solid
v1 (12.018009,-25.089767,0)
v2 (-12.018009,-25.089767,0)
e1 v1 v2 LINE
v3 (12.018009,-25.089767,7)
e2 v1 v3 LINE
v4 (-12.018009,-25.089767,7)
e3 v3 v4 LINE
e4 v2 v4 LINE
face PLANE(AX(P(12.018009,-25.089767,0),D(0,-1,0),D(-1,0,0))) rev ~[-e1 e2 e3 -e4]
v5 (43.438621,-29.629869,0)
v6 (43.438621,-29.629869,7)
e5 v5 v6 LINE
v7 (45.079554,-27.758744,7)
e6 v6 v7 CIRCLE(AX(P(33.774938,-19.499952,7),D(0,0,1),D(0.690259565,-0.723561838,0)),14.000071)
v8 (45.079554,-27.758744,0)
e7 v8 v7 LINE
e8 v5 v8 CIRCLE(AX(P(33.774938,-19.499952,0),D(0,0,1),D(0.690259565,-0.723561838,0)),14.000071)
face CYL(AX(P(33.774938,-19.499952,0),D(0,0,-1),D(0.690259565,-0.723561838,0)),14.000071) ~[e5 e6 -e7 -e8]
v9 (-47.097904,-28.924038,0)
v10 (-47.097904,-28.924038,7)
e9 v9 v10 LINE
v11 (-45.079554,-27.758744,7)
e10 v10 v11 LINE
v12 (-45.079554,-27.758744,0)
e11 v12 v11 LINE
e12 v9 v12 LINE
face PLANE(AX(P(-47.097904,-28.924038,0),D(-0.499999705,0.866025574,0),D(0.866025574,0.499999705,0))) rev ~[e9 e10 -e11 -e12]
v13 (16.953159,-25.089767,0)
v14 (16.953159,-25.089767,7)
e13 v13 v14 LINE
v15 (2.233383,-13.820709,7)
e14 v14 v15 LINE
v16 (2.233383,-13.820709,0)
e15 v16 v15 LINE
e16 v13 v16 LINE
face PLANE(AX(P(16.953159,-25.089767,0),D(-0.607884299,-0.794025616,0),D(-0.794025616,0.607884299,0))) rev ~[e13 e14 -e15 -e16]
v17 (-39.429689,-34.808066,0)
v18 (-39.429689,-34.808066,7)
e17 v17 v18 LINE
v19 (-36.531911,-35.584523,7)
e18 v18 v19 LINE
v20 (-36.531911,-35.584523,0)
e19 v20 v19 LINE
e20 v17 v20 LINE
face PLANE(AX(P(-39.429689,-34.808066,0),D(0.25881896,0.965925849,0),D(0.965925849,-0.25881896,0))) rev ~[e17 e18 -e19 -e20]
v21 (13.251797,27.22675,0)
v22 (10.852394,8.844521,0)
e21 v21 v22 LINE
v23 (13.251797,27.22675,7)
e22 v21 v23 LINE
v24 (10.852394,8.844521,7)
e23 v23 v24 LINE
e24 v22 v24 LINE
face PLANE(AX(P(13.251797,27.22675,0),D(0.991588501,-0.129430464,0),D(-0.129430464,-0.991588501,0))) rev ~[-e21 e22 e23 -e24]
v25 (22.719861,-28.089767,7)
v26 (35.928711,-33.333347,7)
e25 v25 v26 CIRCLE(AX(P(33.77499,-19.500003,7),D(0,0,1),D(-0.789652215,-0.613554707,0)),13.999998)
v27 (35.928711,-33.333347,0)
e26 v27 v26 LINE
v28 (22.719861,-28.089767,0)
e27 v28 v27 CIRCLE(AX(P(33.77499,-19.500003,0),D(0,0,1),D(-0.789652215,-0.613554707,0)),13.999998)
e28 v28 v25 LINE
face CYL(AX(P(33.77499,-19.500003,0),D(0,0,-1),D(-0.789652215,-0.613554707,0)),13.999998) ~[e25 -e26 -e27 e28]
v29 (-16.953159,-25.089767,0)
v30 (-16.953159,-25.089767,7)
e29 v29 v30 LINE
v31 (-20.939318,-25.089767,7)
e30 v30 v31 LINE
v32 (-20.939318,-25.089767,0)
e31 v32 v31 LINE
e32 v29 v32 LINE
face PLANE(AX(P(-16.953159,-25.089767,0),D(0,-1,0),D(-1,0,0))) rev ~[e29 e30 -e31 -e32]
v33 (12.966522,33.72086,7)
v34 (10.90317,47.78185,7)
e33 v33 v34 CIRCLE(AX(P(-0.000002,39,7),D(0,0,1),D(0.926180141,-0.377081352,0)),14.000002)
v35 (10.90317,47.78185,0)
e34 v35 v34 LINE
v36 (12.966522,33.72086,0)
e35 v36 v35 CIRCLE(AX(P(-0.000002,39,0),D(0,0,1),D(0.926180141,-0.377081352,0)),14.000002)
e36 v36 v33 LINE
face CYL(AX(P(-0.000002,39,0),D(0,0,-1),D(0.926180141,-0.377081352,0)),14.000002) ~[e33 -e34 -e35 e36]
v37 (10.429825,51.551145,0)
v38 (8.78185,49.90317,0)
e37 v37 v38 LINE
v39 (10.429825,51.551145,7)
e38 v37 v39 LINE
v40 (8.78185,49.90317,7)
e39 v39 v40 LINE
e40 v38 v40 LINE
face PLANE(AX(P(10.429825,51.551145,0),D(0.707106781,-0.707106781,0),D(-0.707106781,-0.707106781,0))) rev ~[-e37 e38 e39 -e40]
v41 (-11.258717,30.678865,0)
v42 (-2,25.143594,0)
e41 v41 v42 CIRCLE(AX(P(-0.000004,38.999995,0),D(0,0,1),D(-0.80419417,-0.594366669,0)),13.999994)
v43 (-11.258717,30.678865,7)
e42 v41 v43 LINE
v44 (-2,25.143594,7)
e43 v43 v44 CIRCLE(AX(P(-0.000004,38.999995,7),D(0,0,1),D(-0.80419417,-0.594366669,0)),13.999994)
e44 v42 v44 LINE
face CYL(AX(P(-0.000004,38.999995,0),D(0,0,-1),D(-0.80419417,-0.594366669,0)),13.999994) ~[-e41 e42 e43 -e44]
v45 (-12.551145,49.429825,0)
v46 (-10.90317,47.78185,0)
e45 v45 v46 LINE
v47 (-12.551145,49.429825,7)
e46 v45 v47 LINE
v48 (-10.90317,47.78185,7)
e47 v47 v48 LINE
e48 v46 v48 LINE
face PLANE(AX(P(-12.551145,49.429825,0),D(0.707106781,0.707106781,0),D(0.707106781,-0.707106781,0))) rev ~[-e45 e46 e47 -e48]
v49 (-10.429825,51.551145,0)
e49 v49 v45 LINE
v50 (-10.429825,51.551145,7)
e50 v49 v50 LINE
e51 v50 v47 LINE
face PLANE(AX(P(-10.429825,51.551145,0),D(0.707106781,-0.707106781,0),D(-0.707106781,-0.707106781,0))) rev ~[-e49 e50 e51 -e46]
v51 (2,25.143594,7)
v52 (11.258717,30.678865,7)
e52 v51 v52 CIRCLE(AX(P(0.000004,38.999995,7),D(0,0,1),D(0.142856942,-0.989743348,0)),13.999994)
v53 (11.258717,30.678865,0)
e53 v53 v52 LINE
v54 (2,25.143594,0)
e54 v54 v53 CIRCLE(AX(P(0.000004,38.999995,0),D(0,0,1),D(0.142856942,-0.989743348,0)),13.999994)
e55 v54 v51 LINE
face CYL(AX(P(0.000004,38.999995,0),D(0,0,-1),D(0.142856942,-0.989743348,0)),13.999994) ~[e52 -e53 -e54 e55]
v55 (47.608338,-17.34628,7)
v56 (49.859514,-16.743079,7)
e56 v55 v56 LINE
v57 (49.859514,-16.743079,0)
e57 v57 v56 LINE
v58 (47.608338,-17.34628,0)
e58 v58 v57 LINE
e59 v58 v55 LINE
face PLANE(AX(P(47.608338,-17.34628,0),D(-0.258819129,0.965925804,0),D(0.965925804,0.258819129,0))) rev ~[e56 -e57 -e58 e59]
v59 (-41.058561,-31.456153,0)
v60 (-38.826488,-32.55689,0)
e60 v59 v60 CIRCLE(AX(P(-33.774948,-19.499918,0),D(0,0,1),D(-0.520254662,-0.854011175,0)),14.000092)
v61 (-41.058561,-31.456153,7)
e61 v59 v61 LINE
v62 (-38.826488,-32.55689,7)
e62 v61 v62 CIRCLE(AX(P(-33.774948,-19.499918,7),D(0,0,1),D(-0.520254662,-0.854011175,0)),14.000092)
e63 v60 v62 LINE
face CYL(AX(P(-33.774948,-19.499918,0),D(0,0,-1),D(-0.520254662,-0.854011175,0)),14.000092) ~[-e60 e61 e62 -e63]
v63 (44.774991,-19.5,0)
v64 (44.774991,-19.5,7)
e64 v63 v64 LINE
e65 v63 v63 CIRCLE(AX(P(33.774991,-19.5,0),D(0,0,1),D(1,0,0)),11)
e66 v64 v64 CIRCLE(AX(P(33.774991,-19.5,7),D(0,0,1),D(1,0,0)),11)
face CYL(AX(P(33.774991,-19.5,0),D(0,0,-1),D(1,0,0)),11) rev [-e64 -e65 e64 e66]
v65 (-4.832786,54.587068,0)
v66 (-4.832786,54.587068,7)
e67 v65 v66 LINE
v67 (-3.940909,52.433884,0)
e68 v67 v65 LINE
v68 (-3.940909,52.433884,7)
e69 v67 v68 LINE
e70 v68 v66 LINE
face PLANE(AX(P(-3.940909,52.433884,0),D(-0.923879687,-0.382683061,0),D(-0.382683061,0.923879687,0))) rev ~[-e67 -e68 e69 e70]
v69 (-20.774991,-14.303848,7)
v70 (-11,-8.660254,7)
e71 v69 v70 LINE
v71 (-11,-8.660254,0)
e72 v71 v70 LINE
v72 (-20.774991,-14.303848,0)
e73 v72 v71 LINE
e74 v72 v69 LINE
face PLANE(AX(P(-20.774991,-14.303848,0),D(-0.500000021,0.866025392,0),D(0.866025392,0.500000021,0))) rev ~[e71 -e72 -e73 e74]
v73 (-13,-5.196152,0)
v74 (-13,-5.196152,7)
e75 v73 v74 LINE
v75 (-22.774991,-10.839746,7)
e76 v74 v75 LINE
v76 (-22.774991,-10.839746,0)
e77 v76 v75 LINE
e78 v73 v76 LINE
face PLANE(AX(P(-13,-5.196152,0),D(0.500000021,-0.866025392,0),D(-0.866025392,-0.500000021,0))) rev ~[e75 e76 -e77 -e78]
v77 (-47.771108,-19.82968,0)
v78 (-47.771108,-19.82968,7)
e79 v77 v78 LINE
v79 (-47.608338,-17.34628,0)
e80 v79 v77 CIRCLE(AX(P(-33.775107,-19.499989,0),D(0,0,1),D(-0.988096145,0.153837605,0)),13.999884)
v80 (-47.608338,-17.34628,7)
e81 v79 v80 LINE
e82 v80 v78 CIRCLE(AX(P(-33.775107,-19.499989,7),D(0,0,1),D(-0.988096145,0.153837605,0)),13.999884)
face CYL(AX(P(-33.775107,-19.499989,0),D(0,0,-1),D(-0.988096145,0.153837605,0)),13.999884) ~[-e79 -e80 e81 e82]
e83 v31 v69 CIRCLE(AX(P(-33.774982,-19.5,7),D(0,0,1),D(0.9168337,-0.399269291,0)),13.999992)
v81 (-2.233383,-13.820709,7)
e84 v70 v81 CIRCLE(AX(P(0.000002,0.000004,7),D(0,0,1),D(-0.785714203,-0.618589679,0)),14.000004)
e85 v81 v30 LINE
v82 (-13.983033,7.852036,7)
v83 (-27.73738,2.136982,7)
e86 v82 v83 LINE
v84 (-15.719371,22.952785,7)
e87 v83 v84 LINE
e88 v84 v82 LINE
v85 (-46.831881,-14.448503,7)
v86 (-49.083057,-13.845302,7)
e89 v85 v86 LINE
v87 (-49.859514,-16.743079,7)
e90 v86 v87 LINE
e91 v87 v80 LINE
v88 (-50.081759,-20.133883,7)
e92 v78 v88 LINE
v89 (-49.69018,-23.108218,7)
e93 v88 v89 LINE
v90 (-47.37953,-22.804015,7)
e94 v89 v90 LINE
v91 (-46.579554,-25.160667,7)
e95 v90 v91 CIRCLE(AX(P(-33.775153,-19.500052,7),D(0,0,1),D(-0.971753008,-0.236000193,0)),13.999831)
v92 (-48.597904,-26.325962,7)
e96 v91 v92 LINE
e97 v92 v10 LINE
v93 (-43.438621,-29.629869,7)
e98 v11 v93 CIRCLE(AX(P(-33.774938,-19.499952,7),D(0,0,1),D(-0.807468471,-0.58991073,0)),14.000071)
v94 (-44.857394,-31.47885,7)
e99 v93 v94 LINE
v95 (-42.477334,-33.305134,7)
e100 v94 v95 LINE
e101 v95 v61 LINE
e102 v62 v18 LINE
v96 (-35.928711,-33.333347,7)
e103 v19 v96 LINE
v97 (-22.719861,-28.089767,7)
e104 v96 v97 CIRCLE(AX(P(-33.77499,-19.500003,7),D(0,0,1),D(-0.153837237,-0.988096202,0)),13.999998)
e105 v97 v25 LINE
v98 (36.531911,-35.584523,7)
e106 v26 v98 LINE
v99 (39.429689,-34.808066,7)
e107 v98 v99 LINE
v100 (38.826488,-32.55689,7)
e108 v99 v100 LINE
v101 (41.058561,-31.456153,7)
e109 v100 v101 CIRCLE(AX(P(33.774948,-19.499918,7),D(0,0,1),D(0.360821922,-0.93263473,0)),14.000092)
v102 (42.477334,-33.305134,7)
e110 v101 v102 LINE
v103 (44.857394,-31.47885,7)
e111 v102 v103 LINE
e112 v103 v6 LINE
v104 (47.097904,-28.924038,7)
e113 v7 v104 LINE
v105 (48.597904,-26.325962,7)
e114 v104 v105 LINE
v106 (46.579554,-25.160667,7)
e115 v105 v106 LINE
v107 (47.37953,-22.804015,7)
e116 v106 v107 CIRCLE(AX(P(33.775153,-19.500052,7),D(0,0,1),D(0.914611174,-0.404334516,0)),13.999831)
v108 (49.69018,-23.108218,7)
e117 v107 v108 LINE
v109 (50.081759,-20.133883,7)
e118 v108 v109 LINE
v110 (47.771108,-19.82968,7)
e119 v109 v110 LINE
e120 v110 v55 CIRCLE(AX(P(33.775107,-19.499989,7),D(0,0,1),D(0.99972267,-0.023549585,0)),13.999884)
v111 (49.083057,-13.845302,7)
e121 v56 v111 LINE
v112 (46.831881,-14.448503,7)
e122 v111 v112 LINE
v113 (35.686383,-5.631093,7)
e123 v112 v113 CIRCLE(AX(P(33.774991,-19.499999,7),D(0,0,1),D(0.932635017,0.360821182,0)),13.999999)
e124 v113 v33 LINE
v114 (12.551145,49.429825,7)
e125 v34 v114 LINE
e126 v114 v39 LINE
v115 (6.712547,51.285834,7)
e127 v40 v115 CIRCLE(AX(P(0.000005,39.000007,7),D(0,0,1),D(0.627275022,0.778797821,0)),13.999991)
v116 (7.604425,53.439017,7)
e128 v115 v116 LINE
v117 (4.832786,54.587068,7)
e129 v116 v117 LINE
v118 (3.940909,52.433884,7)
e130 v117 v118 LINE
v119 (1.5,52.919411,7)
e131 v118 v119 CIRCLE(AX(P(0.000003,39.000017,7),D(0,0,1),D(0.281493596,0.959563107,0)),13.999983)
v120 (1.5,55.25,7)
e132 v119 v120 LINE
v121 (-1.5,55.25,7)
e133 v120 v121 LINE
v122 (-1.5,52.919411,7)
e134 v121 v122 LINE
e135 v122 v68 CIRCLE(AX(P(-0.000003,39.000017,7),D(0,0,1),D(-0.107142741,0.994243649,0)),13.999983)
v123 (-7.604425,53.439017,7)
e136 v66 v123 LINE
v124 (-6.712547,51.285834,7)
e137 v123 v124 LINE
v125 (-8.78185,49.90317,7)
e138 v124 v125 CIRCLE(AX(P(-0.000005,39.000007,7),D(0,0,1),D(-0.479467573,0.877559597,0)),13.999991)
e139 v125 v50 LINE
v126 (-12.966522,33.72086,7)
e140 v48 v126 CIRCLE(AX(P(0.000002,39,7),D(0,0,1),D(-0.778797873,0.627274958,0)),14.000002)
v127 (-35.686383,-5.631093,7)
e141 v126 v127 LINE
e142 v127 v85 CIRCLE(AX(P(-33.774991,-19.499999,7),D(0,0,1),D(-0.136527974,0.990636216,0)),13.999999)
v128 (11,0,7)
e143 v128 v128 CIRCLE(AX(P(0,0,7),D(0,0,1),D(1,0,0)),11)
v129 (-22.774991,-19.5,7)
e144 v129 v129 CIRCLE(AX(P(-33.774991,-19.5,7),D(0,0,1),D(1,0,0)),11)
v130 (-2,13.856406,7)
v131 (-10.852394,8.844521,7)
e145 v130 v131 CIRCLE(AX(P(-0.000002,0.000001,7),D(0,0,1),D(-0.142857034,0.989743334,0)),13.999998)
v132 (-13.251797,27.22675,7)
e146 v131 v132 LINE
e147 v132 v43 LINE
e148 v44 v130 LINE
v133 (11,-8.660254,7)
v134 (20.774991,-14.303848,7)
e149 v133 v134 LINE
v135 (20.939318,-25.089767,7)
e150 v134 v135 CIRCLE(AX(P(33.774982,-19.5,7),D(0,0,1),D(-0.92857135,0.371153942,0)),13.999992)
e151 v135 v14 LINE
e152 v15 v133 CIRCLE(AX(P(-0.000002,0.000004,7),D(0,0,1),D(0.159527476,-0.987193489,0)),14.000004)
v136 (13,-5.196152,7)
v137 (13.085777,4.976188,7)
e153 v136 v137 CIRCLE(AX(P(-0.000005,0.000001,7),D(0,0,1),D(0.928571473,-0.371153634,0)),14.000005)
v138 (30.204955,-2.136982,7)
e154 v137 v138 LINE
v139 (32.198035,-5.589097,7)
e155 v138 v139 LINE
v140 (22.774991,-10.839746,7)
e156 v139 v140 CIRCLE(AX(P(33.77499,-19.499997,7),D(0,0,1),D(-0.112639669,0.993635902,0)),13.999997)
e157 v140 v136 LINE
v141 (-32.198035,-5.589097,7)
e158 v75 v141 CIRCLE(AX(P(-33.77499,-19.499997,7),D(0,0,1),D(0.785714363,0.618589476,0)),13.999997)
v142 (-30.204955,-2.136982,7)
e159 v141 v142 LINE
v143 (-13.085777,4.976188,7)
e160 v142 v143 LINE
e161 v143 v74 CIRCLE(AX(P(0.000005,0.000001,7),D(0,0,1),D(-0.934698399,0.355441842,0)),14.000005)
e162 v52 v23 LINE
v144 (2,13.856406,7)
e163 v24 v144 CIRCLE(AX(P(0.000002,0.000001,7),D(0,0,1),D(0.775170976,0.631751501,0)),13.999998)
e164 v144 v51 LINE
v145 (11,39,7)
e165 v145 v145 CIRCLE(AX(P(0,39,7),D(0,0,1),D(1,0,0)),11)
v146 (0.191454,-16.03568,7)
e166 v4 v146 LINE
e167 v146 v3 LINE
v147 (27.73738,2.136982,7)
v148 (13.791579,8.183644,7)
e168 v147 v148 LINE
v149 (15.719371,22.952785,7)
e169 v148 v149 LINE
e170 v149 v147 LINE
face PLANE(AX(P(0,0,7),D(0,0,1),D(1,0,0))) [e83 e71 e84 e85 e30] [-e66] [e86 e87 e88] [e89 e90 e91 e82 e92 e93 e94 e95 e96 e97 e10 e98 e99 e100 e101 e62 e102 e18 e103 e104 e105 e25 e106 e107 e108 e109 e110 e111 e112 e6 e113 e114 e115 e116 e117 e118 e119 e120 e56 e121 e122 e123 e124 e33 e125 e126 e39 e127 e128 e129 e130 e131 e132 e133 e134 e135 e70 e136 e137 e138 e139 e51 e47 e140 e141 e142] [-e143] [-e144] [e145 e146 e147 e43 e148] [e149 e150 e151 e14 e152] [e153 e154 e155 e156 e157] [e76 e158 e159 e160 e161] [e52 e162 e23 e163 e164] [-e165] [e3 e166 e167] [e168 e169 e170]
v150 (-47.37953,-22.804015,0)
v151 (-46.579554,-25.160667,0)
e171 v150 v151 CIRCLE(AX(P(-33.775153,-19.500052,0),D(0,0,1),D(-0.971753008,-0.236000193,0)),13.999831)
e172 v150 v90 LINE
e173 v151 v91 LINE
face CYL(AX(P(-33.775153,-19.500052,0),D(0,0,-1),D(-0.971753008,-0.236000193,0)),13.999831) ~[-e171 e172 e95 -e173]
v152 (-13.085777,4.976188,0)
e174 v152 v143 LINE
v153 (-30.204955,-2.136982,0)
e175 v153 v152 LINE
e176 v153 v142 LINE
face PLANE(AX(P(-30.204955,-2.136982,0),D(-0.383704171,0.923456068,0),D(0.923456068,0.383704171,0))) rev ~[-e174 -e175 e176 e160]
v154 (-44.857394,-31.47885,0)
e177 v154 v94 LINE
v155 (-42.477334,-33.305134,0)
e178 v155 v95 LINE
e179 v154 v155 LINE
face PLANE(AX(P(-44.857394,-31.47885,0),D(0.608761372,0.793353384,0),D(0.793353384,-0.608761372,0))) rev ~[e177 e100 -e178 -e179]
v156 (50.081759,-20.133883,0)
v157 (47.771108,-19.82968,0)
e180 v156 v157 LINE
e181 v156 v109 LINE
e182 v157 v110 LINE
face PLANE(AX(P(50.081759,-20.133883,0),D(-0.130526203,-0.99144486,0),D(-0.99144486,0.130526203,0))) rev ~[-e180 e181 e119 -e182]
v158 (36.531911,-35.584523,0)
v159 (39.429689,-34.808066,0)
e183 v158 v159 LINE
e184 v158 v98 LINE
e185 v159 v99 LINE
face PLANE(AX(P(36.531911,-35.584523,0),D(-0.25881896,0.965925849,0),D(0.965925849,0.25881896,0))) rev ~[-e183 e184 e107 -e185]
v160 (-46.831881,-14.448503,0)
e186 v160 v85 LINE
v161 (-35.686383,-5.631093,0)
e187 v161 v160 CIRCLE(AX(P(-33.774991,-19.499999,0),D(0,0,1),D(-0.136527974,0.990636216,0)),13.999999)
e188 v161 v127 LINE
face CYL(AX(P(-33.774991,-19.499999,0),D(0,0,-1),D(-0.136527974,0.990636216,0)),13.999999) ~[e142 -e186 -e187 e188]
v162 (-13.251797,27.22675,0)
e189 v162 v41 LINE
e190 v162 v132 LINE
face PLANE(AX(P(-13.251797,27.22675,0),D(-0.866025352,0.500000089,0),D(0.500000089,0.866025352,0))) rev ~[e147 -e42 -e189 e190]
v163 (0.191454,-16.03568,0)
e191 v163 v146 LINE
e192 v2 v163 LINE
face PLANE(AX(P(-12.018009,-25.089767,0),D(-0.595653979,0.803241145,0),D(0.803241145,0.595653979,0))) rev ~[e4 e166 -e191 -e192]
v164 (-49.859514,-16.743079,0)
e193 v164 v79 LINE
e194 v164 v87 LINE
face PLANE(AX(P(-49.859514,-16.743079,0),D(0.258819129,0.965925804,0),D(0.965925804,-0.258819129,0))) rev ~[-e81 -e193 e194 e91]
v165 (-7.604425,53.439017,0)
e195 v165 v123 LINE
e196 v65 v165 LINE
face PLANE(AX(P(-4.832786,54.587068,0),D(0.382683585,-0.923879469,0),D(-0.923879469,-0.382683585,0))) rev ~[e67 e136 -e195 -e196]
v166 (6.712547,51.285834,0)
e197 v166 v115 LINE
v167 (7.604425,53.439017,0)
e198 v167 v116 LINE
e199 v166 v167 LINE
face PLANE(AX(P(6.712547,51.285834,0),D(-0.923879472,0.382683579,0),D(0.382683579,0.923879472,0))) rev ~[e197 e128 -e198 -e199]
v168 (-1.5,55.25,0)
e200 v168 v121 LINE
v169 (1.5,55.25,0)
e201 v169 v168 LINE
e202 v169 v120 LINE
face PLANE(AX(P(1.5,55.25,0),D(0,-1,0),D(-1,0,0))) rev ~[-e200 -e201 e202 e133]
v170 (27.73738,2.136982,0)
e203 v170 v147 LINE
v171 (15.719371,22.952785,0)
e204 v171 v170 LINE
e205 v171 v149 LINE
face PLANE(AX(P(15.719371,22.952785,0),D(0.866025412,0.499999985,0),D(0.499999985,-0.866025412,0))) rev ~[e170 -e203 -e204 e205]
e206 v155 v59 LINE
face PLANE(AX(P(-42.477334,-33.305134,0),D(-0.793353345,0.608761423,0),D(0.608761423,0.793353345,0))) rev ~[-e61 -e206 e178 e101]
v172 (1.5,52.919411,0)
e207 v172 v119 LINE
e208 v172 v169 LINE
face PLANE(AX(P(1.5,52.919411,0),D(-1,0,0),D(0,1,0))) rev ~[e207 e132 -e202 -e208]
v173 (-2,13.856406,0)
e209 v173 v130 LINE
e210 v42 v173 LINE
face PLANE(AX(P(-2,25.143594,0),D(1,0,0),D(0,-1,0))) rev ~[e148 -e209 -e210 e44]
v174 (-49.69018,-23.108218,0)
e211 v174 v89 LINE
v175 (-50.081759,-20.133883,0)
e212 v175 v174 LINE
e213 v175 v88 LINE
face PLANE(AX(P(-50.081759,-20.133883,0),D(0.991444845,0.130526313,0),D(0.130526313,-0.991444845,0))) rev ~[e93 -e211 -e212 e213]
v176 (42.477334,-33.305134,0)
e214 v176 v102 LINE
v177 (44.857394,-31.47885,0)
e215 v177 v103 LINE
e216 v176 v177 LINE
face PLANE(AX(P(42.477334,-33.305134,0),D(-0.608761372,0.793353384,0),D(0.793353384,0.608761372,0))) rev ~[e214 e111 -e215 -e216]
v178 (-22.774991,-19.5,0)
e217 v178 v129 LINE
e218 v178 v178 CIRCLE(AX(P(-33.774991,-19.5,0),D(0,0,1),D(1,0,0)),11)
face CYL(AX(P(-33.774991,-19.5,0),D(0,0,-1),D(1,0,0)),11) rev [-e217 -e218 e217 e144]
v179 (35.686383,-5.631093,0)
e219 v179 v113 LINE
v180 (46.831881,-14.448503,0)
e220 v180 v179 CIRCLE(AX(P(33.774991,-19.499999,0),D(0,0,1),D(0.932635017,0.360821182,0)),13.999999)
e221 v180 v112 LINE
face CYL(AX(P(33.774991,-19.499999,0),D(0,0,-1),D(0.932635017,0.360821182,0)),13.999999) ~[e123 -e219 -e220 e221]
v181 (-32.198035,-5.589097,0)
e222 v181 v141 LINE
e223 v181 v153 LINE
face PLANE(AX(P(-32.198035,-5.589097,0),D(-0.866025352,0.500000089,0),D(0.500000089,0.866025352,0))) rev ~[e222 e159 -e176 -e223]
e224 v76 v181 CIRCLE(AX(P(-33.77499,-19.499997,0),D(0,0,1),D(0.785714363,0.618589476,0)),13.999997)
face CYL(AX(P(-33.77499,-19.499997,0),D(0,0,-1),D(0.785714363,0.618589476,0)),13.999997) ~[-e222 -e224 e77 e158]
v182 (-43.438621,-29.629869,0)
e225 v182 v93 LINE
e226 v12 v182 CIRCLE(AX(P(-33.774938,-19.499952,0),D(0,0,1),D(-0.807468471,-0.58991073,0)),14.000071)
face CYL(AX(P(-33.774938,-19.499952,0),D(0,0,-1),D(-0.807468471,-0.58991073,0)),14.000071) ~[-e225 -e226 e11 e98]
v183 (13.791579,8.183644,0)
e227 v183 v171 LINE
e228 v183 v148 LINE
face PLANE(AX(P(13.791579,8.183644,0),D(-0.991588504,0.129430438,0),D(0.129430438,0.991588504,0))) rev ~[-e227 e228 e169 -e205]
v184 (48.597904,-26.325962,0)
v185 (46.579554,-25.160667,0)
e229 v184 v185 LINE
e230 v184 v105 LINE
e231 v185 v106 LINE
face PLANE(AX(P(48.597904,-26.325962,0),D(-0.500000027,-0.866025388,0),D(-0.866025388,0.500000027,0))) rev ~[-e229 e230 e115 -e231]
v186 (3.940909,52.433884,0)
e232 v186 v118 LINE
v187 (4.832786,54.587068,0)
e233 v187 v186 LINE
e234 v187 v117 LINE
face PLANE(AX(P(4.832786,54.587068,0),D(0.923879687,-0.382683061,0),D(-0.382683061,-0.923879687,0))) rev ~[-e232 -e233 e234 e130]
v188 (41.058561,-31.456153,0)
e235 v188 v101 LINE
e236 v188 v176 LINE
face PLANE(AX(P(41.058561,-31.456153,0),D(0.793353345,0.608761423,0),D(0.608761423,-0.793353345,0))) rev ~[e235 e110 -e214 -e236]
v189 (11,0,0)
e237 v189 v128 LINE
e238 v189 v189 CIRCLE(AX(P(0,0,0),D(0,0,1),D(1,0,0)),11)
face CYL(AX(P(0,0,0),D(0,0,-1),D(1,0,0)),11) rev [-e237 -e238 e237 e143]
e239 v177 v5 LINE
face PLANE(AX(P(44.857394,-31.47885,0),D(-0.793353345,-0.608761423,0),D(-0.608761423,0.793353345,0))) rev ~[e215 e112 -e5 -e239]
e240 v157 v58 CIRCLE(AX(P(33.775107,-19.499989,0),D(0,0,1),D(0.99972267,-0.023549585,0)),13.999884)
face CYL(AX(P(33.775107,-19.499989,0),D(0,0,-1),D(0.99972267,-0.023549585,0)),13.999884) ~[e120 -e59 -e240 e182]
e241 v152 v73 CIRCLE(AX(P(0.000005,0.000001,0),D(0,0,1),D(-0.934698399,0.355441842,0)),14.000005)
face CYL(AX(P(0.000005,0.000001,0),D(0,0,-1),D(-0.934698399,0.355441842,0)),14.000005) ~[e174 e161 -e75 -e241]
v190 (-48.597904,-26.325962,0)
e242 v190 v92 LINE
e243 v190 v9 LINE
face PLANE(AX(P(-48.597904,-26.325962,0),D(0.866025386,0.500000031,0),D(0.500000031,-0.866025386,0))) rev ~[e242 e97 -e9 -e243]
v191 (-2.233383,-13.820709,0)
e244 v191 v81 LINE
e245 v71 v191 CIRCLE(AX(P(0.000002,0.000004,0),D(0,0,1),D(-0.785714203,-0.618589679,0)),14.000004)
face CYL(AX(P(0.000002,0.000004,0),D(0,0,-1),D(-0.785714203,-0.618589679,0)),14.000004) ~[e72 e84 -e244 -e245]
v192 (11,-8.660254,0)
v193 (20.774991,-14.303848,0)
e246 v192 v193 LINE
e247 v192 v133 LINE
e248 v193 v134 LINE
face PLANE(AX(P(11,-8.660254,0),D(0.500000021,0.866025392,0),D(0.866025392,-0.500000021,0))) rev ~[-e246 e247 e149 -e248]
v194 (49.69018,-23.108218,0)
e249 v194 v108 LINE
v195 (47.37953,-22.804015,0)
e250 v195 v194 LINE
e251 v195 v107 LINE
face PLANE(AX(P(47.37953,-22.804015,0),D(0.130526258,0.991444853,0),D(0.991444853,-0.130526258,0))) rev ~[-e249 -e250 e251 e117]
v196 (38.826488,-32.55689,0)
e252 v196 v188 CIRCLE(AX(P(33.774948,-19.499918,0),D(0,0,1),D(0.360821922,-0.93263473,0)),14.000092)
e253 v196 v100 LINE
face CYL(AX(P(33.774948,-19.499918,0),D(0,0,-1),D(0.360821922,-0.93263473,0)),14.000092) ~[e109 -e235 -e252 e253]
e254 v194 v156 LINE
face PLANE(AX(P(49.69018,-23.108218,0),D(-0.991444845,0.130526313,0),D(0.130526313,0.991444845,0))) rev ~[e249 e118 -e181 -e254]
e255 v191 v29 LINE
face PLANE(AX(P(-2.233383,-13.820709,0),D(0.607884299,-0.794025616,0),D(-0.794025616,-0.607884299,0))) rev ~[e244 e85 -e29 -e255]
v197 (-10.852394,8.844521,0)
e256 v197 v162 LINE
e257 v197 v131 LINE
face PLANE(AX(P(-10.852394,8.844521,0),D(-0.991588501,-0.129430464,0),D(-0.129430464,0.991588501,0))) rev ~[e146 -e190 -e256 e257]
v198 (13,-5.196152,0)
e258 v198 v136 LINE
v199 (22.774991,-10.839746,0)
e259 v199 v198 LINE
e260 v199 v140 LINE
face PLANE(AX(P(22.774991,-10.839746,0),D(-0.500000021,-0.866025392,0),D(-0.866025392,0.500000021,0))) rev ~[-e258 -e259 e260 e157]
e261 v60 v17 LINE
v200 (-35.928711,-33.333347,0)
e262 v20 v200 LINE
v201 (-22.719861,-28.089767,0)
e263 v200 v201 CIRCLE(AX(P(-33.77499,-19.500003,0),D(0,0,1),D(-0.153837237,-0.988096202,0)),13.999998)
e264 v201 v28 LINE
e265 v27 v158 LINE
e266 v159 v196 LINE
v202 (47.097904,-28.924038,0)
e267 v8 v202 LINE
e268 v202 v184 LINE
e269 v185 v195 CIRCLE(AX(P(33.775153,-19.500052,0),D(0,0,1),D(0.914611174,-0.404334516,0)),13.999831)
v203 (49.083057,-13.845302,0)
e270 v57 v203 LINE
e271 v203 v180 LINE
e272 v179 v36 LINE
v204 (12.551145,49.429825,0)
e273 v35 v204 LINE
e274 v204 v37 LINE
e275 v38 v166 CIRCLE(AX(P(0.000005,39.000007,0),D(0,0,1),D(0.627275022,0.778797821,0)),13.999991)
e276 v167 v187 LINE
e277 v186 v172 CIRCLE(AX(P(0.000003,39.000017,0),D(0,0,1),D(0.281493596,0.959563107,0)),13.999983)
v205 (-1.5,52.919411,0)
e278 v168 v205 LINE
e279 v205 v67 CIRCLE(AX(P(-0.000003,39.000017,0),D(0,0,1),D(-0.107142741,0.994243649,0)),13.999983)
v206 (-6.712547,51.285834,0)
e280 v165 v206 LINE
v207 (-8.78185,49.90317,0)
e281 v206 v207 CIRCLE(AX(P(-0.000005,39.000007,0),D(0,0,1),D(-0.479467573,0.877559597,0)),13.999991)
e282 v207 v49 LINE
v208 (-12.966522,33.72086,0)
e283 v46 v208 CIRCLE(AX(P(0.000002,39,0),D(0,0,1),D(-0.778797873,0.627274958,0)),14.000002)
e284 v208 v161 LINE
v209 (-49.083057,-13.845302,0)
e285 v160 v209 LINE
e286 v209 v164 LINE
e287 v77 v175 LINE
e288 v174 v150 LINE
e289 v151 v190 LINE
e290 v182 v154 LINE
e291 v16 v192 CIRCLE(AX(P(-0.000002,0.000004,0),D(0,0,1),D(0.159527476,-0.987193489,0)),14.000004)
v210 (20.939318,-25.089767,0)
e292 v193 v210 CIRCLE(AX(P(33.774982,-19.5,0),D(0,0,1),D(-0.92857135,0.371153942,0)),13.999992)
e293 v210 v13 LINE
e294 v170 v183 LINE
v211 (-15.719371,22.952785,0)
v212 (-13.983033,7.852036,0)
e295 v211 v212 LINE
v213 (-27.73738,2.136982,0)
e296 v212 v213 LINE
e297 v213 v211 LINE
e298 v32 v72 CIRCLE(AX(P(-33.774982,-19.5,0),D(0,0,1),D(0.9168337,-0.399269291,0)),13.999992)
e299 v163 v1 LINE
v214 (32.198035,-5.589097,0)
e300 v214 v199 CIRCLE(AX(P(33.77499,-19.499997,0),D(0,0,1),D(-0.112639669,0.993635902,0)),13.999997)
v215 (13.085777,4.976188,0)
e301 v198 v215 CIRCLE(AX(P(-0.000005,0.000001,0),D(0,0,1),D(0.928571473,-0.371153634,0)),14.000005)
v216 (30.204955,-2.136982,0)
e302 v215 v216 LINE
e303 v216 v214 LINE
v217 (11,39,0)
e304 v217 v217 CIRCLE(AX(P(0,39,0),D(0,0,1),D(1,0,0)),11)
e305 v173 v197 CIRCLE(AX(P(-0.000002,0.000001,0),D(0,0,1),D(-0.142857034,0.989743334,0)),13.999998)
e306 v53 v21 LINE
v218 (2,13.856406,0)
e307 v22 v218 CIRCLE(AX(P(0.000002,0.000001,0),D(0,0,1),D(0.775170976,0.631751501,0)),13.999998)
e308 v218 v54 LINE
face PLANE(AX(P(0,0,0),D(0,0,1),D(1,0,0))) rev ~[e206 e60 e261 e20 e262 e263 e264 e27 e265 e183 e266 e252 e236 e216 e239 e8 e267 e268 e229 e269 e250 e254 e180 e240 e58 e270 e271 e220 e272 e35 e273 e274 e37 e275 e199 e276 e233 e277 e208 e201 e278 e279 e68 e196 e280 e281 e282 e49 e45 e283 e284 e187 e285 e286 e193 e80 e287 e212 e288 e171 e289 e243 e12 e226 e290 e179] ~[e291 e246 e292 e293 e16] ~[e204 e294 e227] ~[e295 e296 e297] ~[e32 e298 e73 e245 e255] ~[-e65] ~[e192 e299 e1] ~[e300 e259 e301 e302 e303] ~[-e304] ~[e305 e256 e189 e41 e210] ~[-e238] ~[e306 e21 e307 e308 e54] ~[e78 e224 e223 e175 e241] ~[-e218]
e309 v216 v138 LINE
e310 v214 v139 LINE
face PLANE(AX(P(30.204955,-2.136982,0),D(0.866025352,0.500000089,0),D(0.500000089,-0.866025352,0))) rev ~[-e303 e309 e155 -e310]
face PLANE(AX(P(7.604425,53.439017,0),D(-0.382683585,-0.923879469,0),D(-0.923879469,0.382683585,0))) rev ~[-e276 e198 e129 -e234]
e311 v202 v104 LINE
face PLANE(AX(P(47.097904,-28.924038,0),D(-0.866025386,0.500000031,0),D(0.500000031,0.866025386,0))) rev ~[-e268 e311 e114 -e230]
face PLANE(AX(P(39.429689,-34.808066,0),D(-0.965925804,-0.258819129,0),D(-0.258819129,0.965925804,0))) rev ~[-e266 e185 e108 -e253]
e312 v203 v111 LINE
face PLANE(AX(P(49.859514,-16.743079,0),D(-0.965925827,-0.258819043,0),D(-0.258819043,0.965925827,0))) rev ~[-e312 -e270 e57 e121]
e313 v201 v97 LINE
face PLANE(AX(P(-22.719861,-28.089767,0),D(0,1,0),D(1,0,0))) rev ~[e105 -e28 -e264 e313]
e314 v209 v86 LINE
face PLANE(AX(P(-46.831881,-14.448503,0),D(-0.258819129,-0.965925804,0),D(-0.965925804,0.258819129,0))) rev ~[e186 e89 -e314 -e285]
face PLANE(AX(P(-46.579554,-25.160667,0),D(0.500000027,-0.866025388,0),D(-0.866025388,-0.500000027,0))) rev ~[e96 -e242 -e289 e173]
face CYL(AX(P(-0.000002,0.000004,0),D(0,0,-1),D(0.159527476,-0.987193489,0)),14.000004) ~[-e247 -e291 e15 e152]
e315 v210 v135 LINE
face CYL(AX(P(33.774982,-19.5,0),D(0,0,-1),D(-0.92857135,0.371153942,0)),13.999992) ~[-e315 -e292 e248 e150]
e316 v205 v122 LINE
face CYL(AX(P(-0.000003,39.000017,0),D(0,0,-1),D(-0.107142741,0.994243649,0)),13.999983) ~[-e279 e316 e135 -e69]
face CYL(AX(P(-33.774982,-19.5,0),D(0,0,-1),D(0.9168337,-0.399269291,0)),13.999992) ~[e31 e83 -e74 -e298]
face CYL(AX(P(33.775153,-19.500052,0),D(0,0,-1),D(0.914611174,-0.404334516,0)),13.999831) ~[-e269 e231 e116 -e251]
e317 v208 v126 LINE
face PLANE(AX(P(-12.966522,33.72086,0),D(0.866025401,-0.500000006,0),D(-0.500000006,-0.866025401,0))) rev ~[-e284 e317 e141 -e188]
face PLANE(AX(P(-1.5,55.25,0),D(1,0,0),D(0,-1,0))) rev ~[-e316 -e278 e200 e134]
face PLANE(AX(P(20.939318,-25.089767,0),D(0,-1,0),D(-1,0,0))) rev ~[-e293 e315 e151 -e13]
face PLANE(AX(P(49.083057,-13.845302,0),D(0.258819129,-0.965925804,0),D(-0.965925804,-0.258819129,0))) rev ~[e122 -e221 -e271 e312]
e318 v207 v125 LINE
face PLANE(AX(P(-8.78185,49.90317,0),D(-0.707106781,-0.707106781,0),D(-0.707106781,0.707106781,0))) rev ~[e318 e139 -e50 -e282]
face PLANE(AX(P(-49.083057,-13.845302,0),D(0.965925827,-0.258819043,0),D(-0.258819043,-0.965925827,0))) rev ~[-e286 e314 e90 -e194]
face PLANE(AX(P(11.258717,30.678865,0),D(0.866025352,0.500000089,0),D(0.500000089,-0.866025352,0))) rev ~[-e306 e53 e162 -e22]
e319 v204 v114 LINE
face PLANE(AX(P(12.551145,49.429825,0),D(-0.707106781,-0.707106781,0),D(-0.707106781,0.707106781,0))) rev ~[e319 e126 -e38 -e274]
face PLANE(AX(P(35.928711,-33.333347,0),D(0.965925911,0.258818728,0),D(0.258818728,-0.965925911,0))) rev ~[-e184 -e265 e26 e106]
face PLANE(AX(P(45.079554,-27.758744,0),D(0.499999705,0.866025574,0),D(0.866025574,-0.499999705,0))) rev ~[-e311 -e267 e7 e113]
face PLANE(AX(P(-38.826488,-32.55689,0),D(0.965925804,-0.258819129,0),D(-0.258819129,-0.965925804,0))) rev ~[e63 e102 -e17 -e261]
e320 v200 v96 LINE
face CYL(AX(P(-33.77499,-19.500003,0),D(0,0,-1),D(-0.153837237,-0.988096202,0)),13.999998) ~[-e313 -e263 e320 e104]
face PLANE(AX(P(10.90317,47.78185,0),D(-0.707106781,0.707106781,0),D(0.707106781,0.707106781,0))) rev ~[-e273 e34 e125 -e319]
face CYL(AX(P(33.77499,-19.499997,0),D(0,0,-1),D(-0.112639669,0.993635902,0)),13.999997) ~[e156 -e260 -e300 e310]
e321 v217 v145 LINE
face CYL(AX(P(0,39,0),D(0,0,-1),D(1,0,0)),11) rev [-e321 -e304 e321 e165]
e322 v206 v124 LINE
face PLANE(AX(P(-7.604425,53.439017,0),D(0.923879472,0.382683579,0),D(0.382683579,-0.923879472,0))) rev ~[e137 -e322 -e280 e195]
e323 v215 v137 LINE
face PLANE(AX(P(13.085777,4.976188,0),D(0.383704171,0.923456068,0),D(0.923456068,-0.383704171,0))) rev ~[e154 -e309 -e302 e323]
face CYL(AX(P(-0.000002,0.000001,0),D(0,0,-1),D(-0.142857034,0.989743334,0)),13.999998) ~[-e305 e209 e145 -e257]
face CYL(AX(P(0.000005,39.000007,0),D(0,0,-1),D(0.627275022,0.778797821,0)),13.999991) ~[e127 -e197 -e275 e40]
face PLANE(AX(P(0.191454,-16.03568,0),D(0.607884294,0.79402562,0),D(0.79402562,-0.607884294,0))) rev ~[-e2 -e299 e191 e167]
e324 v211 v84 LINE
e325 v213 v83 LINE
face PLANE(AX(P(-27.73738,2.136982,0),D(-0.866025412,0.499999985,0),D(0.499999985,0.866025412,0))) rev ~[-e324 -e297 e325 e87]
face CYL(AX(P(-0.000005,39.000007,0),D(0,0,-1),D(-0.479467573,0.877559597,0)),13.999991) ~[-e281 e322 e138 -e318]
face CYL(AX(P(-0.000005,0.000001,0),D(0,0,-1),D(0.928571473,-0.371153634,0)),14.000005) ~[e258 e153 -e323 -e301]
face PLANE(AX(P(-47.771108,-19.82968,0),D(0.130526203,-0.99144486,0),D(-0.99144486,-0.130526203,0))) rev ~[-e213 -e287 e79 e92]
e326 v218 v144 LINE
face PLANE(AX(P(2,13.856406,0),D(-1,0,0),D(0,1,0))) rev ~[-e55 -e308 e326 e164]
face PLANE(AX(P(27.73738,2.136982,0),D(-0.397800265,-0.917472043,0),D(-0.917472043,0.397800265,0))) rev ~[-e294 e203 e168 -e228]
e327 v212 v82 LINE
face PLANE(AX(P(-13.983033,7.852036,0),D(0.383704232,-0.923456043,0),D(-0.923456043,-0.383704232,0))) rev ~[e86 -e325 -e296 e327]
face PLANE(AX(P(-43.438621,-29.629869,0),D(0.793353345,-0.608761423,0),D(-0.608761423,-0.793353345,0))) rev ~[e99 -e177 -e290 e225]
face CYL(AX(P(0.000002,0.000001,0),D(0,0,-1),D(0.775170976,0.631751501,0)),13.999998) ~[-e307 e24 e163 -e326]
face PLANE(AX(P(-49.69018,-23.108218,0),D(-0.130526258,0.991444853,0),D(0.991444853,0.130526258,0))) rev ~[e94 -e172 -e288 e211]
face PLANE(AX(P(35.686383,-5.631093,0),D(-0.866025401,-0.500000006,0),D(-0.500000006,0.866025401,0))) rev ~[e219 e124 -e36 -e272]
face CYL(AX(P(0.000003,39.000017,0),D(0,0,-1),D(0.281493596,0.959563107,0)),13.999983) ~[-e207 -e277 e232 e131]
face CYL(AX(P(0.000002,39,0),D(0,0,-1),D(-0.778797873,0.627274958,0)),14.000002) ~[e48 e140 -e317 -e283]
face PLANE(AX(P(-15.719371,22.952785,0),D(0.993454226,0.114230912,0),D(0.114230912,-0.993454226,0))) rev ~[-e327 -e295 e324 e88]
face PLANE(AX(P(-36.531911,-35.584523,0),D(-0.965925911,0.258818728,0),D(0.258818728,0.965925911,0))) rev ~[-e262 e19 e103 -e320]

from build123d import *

# Parameters (mm, degrees)
F0_R     = 11
F1_DEPTH = 7


with BuildPart() as f1:
    # F0 (on Top) → F1 (new body)
    with BuildSketch(Plane.XY):
        with BuildLine():
            Line((-12.551145, 49.429825), (-10.90317, 47.78185))
            ThreePointArc((-10.90317, 47.78185), (-13.851657, 41.032634), (-12.966522, 33.72086))
            Line((-12.966522, 33.72086), (-35.686383, -5.631093))
            ThreePointArc((-35.686383, -5.631093), (-42.461132, -8.52043), (-46.831881, -14.448503))
            Line((-46.831881, -14.448503), (-49.083057, -13.845302))
            Line((-49.083057, -13.845302), (-49.859514, -16.743079))
            Line((-49.859514, -16.743079), (-47.608338, -17.34628))
            ThreePointArc((-47.608338, -17.34628), (-47.745016, -18.584356), (-47.771108, -19.82968))
            Line((-47.771108, -19.82968), (-50.081759, -20.133883))
            Line((-50.081759, -20.133883), (-49.69018, -23.108218))
            Line((-49.69018, -23.108218), (-47.37953, -22.804015))
            ThreePointArc((-47.37953, -22.804015), (-47.032013, -24.000153), (-46.579554, -25.160667))
            Line((-46.579554, -25.160667), (-48.597904, -26.325962))
            Line((-48.597904, -26.325962), (-47.097904, -28.924038))
            Line((-47.097904, -28.924038), (-45.079554, -27.758744))
            ThreePointArc((-45.079554, -27.758744), (-44.300748, -28.730841), (-43.438621, -29.629869))
            Line((-43.438621, -29.629869), (-44.857394, -31.47885))
            Line((-44.857394, -31.47885), (-42.477334, -33.305134))
            Line((-42.477334, -33.305134), (-41.058561, -31.456153))
            ThreePointArc((-41.058561, -31.456153), (-39.967032, -32.056218), (-38.826488, -32.55689))
            Line((-38.826488, -32.55689), (-39.429689, -34.808066))
            Line((-39.429689, -34.808066), (-36.531911, -35.584523))
            Line((-36.531911, -35.584523), (-35.928711, -33.333347))
            ThreePointArc((-35.928711, -33.333347), (-28.609475, -32.512204), (-22.719861, -28.089767))
            Line((-22.719861, -28.089767), (22.719861, -28.089767))
            ThreePointArc((22.719861, -28.089767), (28.609475, -32.512204), (35.928711, -33.333347))
            Line((35.928711, -33.333347), (36.531911, -35.584523))
            Line((36.531911, -35.584523), (39.429689, -34.808066))
            Line((39.429689, -34.808066), (38.826488, -32.55689))
            ThreePointArc((38.826488, -32.55689), (39.967032, -32.056218), (41.058561, -31.456153))
            Line((41.058561, -31.456153), (42.477334, -33.305134))
            Line((42.477334, -33.305134), (44.857394, -31.47885))
            Line((44.857394, -31.47885), (43.438621, -29.629869))
            ThreePointArc((43.438621, -29.629869), (44.300748, -28.730841), (45.079554, -27.758744))
            Line((45.079554, -27.758744), (47.097904, -28.924038))
            Line((47.097904, -28.924038), (48.597904, -26.325962))
            Line((48.597904, -26.325962), (46.579554, -25.160667))
            ThreePointArc((46.579554, -25.160667), (47.032013, -24.000153), (47.37953, -22.804015))
            Line((47.37953, -22.804015), (49.69018, -23.108218))
            Line((49.69018, -23.108218), (50.081759, -20.133883))
            Line((50.081759, -20.133883), (47.771108, -19.82968))
            ThreePointArc((47.771108, -19.82968), (47.745016, -18.584356), (47.608338, -17.34628))
            Line((47.608338, -17.34628), (49.859514, -16.743079))
            Line((49.859514, -16.743079), (49.083057, -13.845302))
            Line((49.083057, -13.845302), (46.831881, -14.448503))
            ThreePointArc((46.831881, -14.448503), (42.461132, -8.52043), (35.686383, -5.631093))
            Line((35.686383, -5.631093), (12.966522, 33.72086))
            ThreePointArc((12.966522, 33.72086), (13.851657, 41.032634), (10.90317, 47.78185))
            Line((10.90317, 47.78185), (12.551145, 49.429825))
            Line((12.551145, 49.429825), (10.429825, 51.551145))
            Line((10.429825, 51.551145), (8.78185, 49.90317))
            ThreePointArc((8.78185, 49.90317), (7.777983, 50.640575), (6.712547, 51.285834))
            Line((6.712547, 51.285834), (7.604425, 53.439017))
            Line((7.604425, 53.439017), (4.832786, 54.587068))
            Line((4.832786, 54.587068), (3.940909, 52.433884))
            ThreePointArc((3.940909, 52.433884), (2.731265, 52.730994), (1.5, 52.919411))
            Line((1.5, 52.919411), (1.5, 55.25))
            Line((1.5, 55.25), (-1.5, 55.25))
            Line((-1.5, 55.25), (-1.5, 52.919411))
            ThreePointArc((-1.5, 52.919411), (-2.731265, 52.730994), (-3.940909, 52.433884))
            Line((-3.940909, 52.433884), (-4.832786, 54.587068))
            Line((-4.832786, 54.587068), (-7.604425, 53.439017))
            Line((-7.604425, 53.439017), (-6.712547, 51.285834))
            ThreePointArc((-6.712547, 51.285834), (-7.777983, 50.640575), (-8.78185, 49.90317))
            Line((-8.78185, 49.90317), (-10.429825, 51.551145))
            Line((-10.429825, 51.551145), (-12.551145, 49.429825))
        make_face()
        with Locations((-33.774991, -19.5)):
            Circle(F0_R, mode=Mode.SUBTRACT)
        Polygon((-12.018009, -25.089767), (0.191454, -16.03568), (12.018009, -25.089767), align=None, mode=Mode.SUBTRACT)
        with BuildLine():
            Line((-20.774991, -14.303848), (-11, -8.660254))
            ThreePointArc((-11, -8.660254), (-7.101984, -12.0649), (-2.233383, -13.820709))
            Line((-2.233383, -13.820709), (-16.953159, -25.089767))
            Line((-16.953159, -25.089767), (-20.939318, -25.089767))
            ThreePointArc((-20.939318, -25.089767), (-19.776615, -19.71327), (-20.774991, -14.303848))
        make_face(mode=Mode.SUBTRACT)
        with BuildLine():
            ThreePointArc((-13.085777, 4.976188), (-13.999502, -0.118049), (-13, -5.196152))
            Line((-13, -5.196152), (-22.774991, -10.839746))
            ThreePointArc((-22.774991, -10.839746), (-26.9605, -7.270416), (-32.198035, -5.589097))
            Line((-32.198035, -5.589097), (-30.204955, -2.136982))
            Line((-30.204955, -2.136982), (-13.085777, 4.976188))
        make_face(mode=Mode.SUBTRACT)
        with BuildLine():
            ThreePointArc((2.233383, -13.820709), (7.101984, -12.0649), (11, -8.660254))
            Line((11, -8.660254), (20.774991, -14.303848))
            ThreePointArc((20.774991, -14.303848), (19.776615, -19.71327), (20.939318, -25.089767))
            Line((20.939318, -25.089767), (16.953159, -25.089767))
            Line((16.953159, -25.089767), (2.233383, -13.820709))
        make_face(mode=Mode.SUBTRACT)
        with Locations((33.774991, -19.5)):
            Circle(F0_R, mode=Mode.SUBTRACT)
        with BuildLine():
            Line((22.774991, -10.839746), (13, -5.196152))
            ThreePointArc((13, -5.196152), (13.999502, -0.118049), (13.085777, 4.976188))
            Line((13.085777, 4.976188), (30.204955, -2.136982))
            Line((30.204955, -2.136982), (32.198035, -5.589097))
            ThreePointArc((32.198035, -5.589097), (26.9605, -7.270416), (22.774991, -10.839746))
        make_face(mode=Mode.SUBTRACT)
        Circle(F0_R, mode=Mode.SUBTRACT)
        Polygon((-15.719371, 22.952785), (-13.983033, 7.852036), (-27.73738, 2.136982), align=None, mode=Mode.SUBTRACT)
        with BuildLine():
            Line((-2, 25.143594), (-2, 13.856406))
            ThreePointArc((-2, 13.856406), (-6.897518, 12.182949), (-10.852394, 8.844521))
            Line((-10.852394, 8.844521), (-13.251797, 27.22675))
            Line((-13.251797, 27.22675), (-11.258717, 30.678865))
            ThreePointArc((-11.258717, 30.678865), (-7.183885, 26.983686), (-2, 25.143594))
        make_face(mode=Mode.SUBTRACT)
        with BuildLine():
            ThreePointArc((10.852394, 8.844521), (6.897518, 12.182949), (2, 13.856406))
            Line((2, 13.856406), (2, 25.143594))
            ThreePointArc((2, 25.143594), (7.183885, 26.983686), (11.258717, 30.678865))
            Line((11.258717, 30.678865), (13.251797, 27.22675))
            Line((13.251797, 27.22675), (10.852394, 8.844521))
        make_face(mode=Mode.SUBTRACT)
        Polygon((27.73738, 2.136982), (13.791579, 8.183644), (15.719371, 22.952785), align=None, mode=Mode.SUBTRACT)
        with Locations((0, 39)):
            Circle(F0_R, mode=Mode.SUBTRACT)
    extrude(amount=F1_DEPTH)


solid = f1.part
